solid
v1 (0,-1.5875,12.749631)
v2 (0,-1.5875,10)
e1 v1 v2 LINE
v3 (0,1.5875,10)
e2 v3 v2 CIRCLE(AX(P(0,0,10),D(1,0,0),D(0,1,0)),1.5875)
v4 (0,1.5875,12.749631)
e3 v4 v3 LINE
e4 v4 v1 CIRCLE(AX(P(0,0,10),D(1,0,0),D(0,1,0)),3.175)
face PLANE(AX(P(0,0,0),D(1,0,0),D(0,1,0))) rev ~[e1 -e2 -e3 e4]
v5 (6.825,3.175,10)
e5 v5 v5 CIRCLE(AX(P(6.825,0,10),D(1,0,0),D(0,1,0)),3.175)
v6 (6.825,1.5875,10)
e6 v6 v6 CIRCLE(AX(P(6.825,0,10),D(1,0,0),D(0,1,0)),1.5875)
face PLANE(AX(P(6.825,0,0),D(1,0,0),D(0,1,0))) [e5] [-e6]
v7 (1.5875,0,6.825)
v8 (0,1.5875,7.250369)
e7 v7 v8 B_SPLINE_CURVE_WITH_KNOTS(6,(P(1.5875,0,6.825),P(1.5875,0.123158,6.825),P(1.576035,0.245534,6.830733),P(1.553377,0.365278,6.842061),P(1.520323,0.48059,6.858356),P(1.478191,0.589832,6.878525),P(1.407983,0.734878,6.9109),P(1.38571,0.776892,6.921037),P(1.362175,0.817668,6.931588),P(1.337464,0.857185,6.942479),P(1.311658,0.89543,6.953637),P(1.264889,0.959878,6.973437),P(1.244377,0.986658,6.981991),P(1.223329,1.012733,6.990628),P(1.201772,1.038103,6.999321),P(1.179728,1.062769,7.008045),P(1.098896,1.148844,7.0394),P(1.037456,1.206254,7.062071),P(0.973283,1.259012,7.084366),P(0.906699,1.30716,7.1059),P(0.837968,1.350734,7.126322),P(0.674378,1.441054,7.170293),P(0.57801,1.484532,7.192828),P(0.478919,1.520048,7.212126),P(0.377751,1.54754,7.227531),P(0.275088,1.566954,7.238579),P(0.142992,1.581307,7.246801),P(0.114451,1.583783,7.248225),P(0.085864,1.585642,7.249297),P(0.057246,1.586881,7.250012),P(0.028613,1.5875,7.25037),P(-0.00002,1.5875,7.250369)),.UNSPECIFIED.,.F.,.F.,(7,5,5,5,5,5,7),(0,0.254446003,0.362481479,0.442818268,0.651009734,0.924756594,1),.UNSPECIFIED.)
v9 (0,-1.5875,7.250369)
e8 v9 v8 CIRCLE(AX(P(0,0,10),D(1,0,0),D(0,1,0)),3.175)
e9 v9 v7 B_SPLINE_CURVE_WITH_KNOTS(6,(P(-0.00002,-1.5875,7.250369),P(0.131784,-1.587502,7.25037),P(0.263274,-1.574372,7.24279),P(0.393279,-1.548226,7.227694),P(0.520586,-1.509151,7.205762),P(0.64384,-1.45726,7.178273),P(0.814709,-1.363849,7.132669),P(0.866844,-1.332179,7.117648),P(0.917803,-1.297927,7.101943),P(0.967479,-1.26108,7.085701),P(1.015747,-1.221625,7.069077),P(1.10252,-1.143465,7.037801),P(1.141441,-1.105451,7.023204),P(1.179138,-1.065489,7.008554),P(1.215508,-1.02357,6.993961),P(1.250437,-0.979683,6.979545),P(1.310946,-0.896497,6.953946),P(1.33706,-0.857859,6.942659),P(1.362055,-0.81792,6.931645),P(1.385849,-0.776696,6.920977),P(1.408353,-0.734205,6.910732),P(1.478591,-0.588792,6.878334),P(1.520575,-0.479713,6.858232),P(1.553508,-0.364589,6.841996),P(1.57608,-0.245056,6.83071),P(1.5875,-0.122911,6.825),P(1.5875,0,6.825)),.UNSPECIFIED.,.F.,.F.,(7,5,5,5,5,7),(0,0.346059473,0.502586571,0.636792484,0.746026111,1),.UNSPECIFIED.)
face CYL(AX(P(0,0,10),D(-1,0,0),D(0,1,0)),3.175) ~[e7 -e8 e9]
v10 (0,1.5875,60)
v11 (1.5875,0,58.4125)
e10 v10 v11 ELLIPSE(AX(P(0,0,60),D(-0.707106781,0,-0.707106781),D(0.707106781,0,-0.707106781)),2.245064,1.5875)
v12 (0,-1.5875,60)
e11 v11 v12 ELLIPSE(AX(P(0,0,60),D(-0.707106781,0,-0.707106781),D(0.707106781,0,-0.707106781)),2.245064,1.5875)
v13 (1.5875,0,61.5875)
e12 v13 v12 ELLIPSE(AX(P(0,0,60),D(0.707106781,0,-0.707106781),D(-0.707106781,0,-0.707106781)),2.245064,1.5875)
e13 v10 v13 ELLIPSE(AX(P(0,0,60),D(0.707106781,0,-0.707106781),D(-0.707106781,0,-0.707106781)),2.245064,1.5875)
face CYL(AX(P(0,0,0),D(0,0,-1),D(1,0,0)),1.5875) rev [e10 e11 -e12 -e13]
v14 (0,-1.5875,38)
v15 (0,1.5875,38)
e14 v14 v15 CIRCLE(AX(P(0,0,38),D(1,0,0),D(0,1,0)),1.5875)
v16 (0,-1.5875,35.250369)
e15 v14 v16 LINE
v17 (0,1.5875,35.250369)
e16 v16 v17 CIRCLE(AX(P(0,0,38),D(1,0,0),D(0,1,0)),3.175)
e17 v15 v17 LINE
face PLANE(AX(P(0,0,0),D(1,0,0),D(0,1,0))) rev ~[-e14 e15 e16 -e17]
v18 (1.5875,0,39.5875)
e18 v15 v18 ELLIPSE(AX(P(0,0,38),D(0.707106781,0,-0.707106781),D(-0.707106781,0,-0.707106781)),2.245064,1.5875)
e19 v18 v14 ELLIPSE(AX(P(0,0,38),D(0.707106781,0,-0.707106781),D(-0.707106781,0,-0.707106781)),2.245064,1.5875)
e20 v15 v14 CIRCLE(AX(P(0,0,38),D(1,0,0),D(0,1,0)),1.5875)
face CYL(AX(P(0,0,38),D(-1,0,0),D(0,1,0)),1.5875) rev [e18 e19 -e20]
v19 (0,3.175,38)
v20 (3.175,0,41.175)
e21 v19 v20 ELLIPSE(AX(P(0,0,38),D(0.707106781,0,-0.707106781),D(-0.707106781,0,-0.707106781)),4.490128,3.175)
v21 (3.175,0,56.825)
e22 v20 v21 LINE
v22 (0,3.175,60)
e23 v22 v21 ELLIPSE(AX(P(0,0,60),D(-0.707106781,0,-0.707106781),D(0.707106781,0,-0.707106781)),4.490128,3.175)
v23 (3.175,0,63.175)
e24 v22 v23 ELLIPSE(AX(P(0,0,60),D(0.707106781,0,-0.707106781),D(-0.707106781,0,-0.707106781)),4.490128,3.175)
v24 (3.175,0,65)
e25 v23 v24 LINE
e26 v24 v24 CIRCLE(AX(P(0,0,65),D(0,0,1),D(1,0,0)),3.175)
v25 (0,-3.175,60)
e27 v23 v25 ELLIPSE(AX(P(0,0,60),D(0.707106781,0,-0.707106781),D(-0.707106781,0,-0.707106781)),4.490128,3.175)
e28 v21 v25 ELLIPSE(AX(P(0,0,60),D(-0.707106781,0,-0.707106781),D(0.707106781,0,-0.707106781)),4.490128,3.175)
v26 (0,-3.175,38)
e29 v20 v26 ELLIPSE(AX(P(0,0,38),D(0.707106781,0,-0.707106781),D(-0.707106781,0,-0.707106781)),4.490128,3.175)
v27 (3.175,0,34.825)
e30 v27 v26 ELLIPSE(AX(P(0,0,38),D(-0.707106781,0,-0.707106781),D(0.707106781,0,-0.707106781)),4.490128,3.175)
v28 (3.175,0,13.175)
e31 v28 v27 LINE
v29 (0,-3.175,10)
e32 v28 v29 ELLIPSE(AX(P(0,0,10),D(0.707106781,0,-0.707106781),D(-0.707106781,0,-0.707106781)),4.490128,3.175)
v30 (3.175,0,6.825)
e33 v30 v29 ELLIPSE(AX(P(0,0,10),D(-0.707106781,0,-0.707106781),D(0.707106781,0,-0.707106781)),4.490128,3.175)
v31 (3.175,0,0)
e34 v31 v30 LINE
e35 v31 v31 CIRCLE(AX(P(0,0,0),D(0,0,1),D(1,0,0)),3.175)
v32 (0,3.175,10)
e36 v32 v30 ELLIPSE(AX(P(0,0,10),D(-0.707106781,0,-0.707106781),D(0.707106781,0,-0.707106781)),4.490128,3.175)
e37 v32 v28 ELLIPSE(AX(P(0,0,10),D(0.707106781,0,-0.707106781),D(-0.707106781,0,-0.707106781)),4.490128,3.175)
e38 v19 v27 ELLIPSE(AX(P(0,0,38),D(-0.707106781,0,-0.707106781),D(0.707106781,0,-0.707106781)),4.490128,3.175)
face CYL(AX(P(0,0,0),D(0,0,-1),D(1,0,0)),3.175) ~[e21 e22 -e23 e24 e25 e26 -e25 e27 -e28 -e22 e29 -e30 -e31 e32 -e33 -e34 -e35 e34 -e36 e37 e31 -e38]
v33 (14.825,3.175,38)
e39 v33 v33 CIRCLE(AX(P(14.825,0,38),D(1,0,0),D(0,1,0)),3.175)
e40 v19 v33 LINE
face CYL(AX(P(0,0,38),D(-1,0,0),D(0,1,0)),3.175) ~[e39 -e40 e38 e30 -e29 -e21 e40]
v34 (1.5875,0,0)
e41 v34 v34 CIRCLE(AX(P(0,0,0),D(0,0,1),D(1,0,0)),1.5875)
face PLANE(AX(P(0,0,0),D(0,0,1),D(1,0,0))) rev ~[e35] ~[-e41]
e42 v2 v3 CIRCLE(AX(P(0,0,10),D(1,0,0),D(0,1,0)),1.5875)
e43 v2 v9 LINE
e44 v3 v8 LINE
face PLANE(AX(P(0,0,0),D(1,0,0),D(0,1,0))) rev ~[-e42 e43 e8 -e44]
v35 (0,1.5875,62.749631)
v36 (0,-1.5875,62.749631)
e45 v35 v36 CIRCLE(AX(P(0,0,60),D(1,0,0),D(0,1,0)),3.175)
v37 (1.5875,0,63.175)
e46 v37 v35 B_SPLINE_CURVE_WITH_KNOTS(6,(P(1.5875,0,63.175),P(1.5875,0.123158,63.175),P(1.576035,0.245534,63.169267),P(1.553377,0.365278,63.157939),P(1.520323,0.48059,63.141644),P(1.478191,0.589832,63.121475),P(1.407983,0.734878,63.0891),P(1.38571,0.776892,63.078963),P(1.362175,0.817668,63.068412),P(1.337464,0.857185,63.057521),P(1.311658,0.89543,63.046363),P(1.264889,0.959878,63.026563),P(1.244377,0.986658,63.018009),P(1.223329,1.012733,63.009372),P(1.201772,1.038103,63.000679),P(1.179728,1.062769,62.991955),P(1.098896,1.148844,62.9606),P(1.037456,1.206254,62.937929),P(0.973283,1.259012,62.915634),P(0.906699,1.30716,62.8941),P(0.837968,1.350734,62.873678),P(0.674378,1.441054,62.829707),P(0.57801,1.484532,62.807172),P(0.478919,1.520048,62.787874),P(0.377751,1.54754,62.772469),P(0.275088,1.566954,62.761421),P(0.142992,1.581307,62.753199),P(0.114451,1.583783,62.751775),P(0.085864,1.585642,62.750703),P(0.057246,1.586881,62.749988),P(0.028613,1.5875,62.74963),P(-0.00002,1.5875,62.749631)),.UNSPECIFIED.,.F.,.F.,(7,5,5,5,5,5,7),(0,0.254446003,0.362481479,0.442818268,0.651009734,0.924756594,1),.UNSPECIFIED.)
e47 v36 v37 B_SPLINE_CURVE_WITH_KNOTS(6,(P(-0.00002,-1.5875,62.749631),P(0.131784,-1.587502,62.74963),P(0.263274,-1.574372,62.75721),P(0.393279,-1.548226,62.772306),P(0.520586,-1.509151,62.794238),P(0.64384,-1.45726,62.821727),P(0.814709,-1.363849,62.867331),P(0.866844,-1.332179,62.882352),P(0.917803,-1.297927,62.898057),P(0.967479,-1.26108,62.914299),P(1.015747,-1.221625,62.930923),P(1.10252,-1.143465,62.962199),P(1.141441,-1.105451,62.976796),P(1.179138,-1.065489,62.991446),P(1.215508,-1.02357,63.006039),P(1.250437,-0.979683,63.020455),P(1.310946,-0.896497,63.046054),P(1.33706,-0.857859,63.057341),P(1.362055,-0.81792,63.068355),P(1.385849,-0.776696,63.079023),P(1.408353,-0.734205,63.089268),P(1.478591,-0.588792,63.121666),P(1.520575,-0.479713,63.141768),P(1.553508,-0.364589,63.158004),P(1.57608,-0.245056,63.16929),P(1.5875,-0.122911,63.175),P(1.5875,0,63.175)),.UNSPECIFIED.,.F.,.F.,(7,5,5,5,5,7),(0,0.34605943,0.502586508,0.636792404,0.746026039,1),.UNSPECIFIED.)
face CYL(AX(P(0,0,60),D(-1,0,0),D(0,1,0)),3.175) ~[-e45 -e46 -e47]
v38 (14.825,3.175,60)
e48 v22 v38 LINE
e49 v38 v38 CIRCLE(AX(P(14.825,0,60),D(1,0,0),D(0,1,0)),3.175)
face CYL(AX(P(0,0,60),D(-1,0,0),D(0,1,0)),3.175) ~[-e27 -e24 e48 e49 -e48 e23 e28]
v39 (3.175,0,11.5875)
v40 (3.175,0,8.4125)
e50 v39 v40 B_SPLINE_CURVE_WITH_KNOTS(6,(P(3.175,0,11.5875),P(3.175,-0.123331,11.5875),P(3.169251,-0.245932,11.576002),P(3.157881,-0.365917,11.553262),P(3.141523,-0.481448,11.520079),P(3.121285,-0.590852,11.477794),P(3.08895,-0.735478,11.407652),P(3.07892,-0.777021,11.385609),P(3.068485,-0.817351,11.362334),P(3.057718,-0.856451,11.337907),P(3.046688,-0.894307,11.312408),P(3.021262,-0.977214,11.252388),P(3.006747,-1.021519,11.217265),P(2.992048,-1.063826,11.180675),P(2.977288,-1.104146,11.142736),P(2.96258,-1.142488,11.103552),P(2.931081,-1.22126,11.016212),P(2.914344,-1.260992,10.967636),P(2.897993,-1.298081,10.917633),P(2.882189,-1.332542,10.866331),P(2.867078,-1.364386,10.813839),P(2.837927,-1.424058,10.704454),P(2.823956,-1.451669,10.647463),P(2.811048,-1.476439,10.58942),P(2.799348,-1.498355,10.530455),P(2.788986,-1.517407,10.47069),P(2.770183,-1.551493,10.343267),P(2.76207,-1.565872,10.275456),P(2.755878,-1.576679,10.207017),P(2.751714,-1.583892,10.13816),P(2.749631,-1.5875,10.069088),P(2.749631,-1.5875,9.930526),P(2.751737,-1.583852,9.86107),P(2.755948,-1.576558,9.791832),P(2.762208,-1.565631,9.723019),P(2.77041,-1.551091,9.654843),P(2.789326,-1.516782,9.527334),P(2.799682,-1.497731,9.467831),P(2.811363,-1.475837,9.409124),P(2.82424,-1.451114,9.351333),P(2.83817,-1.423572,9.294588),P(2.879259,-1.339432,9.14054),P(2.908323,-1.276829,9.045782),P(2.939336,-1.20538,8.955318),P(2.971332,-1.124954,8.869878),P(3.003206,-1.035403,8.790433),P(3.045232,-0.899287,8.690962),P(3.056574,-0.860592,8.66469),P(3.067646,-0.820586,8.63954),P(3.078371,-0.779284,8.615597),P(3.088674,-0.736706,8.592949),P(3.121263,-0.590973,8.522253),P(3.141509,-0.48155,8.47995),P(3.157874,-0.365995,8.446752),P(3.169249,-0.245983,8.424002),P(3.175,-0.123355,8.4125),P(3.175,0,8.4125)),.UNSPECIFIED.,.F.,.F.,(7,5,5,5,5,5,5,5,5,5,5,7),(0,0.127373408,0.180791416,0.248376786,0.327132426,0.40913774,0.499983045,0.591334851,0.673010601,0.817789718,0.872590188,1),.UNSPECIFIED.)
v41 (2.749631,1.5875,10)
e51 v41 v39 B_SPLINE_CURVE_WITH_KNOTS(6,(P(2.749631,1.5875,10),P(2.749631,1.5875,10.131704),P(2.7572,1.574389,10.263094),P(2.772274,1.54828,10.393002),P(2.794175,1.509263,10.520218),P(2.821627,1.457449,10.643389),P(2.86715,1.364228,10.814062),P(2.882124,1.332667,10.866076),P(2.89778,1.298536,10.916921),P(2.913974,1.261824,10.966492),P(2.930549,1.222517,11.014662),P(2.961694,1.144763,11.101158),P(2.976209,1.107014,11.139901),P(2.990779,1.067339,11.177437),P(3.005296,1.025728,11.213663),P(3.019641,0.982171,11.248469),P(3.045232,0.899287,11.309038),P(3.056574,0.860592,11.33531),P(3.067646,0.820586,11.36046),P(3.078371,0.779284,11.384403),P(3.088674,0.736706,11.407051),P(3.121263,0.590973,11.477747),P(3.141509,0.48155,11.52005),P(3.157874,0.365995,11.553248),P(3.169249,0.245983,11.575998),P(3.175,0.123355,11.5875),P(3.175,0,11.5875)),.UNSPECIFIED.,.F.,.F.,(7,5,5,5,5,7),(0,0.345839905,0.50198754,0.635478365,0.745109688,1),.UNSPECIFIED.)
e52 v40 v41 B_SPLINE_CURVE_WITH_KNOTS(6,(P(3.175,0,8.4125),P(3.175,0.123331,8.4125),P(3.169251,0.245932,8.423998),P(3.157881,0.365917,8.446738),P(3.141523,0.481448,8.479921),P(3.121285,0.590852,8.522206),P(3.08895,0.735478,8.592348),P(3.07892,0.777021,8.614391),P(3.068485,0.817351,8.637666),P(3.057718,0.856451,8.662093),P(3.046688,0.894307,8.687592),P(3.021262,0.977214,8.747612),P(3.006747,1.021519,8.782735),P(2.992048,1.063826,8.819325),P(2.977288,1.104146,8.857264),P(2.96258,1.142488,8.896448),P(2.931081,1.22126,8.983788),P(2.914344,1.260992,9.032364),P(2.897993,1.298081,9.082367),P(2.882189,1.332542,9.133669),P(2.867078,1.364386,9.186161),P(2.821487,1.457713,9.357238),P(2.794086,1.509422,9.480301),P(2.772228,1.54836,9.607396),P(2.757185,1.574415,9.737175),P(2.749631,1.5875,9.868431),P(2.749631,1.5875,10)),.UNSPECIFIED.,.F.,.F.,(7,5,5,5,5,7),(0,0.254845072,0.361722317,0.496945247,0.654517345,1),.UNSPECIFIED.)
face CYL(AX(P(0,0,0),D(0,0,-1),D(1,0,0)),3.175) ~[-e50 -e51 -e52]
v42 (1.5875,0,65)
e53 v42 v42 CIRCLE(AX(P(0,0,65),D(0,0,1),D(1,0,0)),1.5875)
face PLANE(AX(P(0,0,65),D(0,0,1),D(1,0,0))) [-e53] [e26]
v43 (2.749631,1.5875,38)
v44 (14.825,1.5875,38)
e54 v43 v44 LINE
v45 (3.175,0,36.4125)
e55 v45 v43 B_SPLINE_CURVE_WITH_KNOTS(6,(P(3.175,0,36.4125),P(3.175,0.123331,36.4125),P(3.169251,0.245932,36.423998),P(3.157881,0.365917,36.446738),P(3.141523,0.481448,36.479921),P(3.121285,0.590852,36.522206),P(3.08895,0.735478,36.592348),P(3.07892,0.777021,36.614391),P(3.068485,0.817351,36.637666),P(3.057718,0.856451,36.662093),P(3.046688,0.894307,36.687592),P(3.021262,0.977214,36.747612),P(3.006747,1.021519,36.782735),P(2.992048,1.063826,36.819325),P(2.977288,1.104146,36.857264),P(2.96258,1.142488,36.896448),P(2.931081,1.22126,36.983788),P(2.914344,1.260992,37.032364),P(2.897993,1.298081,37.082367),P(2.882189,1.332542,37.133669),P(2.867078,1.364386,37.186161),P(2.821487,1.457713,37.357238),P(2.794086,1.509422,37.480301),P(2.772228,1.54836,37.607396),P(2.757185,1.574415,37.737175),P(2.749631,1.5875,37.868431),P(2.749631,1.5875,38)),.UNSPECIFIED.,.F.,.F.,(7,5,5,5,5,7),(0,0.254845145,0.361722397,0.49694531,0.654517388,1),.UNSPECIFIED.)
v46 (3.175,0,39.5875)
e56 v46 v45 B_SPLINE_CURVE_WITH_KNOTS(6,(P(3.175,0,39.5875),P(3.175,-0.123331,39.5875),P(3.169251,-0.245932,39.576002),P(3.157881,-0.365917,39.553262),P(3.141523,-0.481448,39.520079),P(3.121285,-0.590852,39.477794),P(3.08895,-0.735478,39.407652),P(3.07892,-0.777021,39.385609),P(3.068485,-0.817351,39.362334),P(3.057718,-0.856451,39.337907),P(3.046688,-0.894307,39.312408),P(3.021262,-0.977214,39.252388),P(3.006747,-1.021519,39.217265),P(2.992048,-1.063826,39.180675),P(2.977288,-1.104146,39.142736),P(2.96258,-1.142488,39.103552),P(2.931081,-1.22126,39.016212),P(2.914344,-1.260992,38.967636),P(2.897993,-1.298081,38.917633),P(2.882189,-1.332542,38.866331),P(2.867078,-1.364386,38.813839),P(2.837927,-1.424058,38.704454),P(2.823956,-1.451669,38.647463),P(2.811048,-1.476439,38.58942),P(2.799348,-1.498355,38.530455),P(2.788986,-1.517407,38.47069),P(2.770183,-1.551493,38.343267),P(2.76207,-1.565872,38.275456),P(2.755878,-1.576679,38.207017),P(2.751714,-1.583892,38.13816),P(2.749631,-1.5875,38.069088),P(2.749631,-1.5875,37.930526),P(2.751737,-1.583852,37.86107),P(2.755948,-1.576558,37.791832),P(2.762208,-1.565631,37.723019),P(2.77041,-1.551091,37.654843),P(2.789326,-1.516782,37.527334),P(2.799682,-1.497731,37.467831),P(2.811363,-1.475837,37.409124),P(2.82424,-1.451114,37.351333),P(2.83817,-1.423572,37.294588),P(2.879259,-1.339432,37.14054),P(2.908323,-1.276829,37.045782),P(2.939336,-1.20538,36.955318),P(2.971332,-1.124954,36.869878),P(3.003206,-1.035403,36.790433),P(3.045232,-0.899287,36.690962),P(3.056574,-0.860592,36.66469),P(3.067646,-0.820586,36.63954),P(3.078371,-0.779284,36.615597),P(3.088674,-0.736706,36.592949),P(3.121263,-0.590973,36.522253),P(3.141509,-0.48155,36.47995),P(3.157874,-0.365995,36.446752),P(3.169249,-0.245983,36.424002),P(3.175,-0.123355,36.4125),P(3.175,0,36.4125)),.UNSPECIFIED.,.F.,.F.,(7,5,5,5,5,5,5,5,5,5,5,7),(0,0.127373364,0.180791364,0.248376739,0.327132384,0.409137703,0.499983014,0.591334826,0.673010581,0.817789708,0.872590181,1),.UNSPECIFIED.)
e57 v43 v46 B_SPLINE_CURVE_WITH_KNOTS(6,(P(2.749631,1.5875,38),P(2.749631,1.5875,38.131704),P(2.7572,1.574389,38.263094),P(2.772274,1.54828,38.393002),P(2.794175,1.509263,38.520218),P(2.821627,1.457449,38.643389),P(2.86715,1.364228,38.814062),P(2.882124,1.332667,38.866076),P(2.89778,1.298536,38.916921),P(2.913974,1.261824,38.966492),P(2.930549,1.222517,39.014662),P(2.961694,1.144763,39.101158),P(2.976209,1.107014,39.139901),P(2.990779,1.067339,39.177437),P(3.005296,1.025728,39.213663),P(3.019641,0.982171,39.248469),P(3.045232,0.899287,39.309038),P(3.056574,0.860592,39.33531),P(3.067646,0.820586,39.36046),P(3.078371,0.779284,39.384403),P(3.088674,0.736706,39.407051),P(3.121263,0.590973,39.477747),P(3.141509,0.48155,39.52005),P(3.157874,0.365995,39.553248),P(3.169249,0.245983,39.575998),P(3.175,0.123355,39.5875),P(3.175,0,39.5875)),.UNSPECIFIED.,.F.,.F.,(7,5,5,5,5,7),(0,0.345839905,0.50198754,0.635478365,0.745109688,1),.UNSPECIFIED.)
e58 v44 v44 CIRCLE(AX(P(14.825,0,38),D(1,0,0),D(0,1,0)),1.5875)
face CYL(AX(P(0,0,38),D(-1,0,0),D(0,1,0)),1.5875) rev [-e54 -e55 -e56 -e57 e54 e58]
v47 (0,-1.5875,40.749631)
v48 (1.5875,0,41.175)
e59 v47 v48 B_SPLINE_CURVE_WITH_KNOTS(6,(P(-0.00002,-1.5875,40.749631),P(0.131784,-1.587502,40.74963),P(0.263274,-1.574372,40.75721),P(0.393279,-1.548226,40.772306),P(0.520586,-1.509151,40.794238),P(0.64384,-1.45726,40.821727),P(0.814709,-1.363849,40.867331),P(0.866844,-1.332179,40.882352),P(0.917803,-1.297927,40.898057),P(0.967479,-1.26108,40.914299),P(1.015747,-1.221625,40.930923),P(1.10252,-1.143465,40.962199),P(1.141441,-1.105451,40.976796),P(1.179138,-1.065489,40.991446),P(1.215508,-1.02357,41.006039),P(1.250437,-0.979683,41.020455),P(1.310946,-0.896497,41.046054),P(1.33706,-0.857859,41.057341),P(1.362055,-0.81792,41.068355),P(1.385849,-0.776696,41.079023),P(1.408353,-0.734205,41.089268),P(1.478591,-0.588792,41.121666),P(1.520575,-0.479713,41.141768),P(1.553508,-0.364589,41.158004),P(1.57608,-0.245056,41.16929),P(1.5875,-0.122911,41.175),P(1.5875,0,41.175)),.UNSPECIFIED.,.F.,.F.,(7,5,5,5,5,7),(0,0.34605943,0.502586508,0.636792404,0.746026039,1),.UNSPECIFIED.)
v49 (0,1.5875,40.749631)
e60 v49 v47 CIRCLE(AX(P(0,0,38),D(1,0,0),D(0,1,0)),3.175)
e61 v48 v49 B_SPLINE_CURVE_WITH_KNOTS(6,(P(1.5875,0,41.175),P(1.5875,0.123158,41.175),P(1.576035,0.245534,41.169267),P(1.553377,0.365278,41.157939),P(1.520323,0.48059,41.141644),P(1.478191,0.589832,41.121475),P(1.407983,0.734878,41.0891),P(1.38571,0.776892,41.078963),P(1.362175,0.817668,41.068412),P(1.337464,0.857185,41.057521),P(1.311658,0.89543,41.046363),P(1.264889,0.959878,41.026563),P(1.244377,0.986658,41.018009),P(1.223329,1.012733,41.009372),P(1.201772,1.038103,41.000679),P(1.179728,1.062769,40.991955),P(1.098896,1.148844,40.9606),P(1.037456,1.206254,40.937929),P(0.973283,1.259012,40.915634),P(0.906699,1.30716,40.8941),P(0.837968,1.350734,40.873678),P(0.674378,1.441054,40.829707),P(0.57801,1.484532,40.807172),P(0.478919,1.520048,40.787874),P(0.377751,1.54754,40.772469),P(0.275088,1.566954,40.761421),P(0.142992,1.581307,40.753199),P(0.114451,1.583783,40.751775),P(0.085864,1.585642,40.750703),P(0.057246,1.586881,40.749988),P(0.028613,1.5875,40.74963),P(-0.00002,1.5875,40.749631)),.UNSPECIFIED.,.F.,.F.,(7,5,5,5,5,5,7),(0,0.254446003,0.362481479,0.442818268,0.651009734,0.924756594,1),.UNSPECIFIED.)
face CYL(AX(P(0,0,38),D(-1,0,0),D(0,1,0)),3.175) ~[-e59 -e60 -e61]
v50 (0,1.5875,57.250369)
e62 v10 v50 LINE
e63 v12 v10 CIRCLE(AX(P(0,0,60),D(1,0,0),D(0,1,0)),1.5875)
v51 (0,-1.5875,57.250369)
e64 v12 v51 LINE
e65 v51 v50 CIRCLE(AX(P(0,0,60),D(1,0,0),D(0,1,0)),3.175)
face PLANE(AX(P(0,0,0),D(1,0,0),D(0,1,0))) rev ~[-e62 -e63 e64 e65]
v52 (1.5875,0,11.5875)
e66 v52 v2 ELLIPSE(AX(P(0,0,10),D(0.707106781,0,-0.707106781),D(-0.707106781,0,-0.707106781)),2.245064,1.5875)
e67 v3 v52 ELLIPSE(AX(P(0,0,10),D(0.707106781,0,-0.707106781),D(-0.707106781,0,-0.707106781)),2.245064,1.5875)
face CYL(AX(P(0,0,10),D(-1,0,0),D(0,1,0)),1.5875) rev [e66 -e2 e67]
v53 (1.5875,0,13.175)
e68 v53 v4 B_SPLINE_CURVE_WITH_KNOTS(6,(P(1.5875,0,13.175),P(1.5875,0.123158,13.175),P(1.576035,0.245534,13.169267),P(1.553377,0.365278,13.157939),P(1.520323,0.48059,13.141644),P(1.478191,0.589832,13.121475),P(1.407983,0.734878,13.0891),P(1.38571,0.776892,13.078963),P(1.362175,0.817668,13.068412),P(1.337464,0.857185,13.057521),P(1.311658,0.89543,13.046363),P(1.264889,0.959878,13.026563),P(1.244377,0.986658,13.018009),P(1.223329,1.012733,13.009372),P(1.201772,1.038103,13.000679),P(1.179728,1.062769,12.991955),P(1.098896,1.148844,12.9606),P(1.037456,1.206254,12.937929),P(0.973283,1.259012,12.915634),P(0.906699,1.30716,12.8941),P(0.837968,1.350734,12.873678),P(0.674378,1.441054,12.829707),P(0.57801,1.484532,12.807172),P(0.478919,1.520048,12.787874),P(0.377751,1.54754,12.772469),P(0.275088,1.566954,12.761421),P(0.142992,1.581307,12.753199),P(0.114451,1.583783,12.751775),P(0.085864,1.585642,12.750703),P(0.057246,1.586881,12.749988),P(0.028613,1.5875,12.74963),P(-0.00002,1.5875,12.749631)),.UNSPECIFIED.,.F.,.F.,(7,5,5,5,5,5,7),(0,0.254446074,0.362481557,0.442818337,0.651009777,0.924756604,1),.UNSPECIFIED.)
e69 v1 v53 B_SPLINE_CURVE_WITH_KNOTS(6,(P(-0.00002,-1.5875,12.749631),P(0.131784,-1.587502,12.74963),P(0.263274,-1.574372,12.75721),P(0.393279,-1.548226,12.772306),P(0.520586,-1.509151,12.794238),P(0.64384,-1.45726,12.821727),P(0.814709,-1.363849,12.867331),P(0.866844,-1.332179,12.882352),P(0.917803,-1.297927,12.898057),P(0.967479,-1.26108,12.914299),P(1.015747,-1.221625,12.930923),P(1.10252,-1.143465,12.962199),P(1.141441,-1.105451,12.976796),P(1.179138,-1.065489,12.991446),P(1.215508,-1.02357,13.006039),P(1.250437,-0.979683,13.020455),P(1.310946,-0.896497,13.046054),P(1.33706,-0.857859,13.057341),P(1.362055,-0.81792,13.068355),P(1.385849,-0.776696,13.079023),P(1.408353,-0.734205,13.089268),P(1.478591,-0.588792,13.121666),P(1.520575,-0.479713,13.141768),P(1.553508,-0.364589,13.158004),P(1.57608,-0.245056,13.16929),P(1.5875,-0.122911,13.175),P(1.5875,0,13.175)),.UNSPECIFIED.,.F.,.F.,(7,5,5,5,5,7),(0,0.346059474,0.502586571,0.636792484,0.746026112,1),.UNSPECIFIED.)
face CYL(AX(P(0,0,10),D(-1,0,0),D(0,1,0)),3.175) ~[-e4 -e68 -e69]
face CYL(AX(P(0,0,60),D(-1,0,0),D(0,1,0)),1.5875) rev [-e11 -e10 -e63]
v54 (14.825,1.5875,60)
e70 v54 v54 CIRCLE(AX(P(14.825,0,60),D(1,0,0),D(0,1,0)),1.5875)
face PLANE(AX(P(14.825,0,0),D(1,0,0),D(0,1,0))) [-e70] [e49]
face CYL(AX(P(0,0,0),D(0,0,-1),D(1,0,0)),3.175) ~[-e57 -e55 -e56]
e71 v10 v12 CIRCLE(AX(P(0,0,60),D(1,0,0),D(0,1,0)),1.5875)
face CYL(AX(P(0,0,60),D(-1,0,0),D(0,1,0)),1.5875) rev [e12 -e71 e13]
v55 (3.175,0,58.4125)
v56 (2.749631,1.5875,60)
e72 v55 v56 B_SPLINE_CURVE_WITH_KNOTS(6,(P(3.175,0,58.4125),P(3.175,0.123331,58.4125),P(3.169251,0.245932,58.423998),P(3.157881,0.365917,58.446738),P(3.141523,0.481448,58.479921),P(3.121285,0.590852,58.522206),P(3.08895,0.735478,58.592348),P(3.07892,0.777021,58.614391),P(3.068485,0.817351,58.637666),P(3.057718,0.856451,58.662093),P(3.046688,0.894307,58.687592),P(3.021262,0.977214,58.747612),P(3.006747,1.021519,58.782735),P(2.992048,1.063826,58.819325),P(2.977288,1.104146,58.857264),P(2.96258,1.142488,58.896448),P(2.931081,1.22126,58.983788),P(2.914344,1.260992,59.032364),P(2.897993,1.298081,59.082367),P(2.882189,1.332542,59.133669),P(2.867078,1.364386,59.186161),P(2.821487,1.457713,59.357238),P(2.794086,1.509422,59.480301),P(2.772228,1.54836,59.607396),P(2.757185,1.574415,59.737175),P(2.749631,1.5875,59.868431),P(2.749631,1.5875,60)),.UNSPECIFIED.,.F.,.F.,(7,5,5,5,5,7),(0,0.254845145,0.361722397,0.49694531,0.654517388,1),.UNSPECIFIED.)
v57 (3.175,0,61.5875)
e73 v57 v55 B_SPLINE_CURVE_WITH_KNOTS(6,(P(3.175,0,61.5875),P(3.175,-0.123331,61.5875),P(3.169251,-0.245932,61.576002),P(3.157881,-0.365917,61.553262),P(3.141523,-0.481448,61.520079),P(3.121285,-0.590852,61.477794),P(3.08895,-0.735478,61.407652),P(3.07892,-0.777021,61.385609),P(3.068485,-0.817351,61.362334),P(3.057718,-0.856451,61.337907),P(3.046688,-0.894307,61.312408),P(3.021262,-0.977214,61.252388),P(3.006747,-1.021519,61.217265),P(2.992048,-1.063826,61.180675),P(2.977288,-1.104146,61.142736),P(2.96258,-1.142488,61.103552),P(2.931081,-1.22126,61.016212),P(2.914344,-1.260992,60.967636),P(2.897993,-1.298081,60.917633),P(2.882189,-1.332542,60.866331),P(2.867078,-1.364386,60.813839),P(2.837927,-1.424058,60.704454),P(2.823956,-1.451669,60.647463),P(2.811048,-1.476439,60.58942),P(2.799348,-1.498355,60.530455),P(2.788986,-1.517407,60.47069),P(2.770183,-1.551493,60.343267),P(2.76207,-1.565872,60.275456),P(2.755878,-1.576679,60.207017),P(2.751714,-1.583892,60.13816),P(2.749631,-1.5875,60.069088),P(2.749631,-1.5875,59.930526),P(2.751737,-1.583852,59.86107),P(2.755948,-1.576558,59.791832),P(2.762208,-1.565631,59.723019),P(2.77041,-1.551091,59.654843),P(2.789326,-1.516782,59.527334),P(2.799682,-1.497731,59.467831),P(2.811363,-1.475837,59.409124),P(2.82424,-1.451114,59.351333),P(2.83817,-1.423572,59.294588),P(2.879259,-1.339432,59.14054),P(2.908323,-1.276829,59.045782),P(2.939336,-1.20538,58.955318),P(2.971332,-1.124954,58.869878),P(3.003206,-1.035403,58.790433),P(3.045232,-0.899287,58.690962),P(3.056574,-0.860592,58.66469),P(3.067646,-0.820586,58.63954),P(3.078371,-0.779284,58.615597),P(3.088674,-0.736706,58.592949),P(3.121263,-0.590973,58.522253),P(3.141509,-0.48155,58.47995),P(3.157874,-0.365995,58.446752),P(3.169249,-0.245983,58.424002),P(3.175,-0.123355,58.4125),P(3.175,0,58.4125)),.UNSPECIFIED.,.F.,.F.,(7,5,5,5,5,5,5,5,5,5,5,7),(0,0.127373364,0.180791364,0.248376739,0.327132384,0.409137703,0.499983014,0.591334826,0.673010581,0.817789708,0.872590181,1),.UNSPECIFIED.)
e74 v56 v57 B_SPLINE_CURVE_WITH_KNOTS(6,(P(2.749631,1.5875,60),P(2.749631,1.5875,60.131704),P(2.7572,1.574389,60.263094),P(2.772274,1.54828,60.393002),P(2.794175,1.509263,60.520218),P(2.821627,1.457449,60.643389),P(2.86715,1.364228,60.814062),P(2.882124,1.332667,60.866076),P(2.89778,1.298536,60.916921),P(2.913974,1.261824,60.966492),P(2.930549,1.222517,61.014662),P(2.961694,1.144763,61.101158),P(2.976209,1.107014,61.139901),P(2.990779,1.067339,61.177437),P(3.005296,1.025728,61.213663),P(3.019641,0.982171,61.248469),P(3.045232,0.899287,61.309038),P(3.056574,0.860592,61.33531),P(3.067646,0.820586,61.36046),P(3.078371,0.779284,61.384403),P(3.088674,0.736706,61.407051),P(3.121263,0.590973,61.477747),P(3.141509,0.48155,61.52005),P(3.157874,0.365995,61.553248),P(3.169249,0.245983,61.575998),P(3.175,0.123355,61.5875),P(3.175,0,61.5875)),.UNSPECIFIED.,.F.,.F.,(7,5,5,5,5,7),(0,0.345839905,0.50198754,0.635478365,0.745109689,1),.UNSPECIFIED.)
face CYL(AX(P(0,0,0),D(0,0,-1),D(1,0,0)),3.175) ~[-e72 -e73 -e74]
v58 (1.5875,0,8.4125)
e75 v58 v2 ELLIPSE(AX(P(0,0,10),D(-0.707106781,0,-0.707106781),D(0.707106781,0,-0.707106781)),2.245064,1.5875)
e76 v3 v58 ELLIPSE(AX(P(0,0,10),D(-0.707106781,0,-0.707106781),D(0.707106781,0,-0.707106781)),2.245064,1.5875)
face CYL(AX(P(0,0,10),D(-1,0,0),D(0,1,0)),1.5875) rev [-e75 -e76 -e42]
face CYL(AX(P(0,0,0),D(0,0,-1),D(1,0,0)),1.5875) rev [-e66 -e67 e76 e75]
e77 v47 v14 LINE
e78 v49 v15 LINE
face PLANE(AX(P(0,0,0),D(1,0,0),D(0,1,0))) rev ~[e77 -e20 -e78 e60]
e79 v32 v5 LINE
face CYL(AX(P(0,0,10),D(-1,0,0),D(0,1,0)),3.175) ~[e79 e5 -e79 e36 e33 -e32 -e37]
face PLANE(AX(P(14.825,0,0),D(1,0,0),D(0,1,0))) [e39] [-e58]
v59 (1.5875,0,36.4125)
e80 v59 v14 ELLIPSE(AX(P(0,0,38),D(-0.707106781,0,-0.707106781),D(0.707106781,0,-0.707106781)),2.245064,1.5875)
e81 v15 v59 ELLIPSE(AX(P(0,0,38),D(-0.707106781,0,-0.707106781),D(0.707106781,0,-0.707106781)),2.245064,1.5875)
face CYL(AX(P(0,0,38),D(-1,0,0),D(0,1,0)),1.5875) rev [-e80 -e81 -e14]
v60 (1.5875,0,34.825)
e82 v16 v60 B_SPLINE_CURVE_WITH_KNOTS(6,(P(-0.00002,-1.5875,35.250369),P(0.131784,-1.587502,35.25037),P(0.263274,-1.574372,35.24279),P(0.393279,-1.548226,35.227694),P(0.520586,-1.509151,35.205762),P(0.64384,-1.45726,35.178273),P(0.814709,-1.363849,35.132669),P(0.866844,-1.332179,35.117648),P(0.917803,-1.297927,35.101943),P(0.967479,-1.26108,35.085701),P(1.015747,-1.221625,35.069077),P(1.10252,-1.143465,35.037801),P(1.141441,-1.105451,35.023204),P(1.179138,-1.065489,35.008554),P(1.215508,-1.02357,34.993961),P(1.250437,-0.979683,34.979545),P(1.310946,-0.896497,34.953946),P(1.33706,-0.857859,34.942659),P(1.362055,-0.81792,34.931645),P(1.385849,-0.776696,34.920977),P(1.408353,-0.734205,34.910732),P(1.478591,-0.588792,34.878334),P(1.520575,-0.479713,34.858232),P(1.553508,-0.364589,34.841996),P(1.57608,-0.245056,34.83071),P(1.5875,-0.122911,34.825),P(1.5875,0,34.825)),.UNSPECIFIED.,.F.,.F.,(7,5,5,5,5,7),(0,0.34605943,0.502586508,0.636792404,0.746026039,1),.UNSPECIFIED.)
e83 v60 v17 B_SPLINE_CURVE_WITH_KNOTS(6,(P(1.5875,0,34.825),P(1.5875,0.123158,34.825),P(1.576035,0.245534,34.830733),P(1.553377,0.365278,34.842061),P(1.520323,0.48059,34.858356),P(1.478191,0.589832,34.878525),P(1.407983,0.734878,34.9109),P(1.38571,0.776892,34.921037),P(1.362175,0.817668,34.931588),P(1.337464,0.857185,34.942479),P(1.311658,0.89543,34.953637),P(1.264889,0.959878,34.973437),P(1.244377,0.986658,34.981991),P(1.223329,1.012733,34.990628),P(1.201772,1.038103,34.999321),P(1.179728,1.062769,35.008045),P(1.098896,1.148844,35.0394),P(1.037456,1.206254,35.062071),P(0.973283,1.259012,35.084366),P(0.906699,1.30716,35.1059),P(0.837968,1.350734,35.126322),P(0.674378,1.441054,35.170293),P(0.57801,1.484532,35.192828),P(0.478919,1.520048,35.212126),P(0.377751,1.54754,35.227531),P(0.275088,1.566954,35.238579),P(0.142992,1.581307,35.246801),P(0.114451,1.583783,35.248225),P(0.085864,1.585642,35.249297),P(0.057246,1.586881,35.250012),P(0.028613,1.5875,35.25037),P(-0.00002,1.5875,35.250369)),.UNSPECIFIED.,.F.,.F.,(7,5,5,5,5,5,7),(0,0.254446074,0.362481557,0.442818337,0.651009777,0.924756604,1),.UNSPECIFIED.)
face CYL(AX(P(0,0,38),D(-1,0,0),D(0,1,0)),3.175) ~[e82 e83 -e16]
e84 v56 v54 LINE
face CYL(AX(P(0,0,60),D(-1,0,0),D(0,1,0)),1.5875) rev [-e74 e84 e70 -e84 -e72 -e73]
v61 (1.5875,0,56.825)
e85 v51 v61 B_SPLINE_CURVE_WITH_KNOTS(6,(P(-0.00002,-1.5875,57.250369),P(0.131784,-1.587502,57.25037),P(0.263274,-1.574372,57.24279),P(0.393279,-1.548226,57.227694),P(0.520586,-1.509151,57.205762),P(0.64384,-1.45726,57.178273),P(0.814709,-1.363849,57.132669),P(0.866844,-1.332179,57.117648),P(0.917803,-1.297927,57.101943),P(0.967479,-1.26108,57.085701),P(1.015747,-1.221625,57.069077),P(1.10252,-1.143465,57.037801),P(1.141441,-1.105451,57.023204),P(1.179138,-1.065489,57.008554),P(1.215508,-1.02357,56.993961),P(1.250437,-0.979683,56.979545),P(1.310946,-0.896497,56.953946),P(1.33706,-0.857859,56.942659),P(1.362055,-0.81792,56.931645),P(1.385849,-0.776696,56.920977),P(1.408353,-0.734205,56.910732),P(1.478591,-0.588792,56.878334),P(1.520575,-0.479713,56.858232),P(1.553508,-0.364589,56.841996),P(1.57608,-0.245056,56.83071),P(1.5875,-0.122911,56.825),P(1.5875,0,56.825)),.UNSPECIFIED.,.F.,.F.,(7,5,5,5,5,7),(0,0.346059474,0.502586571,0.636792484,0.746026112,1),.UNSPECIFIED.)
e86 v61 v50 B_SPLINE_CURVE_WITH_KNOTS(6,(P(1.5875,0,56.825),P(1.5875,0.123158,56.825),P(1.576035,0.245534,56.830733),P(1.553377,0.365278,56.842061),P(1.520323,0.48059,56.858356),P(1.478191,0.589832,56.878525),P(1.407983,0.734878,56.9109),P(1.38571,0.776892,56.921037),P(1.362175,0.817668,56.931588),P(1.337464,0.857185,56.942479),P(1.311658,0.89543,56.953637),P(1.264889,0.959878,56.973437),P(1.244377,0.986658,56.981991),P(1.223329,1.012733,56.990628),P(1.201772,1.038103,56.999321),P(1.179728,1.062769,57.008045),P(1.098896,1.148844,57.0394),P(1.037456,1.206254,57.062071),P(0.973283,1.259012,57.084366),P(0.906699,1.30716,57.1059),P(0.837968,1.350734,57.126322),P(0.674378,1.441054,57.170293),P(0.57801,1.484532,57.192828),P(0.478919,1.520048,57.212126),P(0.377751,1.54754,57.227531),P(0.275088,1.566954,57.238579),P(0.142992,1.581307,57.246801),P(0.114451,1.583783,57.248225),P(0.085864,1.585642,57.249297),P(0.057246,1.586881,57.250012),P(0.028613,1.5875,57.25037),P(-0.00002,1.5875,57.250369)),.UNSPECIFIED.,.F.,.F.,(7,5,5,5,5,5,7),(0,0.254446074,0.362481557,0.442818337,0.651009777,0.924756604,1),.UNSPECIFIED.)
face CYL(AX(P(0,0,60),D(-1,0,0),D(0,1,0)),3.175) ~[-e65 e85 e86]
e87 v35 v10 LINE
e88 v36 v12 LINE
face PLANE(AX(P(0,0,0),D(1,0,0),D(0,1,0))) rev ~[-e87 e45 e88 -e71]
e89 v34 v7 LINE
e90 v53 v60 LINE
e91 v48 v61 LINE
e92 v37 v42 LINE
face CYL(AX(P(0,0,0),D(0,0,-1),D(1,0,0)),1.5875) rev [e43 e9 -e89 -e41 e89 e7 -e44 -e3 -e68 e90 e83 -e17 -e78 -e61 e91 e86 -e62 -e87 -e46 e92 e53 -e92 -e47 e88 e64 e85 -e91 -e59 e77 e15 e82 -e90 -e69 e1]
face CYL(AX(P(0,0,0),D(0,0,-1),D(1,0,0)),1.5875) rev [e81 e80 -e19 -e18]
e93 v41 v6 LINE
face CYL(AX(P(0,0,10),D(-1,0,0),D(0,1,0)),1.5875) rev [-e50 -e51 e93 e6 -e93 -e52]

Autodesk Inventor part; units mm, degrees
ref_plane "YZ Plane" through (0, 0, 0) normal (1, 0, 0) x (0, 1, 0)
ref_plane "XZ Plane" through (0, 0, 0) normal (0, 1, 0) x (-1, 0, 0)
ref_plane "XY Plane" through (0, 0, 0) normal (0, 0, 1) x (1, 0, 0)
sketch "Sketch1" plane through (0, 0, 0) normal (0, 0, 1) x (1, 0, 0)
  circle A0 centre (0, 0) radius 3.175
  circle A1 centre (0, 0) radius 1.5875
  dimension "d0" = 6.35
  dimension "d1" = 3.175
extrude "Extrusion1" add sketch "Sketch1" along normal blind 65
sketch "Sketch2" plane through (0, 0, 0) normal (1, 0, 0) x (0, 1, 0)
  circle A0 centre (0, 60) radius 3.175
  circle A1 centre (0, 60) radius 1.5875
  line L0 (3.175, 65) -> (-3.175, 65) projected
  circle A2 centre (0, 38) radius 3.175
  circle A3 centre (0, 38) radius 1.5875
  circle A4 centre (0, 10) radius 3.175
  circle A5 centre (0, 10) radius 1.5875
  point P0 (0, 0)
  dimension "d4" = 6.35
  dimension "d5" = 3.175
  dimension "d6" = 5
  dimension "d7" = 6.35
  dimension "d8" = 3.175
  dimension "d9" = 27
  dimension "d10" = 6.35
  dimension "d11" = 3.175
  dimension "d12" = 55
extrude "Extrusion2" add sketch "Sketch2" along normal blind 14.825 contours A0 | A2
extrude "Extrusion3" add sketch "Sketch2" along normal blind 6.825 contours A4
properties part number "Valve Tube"
